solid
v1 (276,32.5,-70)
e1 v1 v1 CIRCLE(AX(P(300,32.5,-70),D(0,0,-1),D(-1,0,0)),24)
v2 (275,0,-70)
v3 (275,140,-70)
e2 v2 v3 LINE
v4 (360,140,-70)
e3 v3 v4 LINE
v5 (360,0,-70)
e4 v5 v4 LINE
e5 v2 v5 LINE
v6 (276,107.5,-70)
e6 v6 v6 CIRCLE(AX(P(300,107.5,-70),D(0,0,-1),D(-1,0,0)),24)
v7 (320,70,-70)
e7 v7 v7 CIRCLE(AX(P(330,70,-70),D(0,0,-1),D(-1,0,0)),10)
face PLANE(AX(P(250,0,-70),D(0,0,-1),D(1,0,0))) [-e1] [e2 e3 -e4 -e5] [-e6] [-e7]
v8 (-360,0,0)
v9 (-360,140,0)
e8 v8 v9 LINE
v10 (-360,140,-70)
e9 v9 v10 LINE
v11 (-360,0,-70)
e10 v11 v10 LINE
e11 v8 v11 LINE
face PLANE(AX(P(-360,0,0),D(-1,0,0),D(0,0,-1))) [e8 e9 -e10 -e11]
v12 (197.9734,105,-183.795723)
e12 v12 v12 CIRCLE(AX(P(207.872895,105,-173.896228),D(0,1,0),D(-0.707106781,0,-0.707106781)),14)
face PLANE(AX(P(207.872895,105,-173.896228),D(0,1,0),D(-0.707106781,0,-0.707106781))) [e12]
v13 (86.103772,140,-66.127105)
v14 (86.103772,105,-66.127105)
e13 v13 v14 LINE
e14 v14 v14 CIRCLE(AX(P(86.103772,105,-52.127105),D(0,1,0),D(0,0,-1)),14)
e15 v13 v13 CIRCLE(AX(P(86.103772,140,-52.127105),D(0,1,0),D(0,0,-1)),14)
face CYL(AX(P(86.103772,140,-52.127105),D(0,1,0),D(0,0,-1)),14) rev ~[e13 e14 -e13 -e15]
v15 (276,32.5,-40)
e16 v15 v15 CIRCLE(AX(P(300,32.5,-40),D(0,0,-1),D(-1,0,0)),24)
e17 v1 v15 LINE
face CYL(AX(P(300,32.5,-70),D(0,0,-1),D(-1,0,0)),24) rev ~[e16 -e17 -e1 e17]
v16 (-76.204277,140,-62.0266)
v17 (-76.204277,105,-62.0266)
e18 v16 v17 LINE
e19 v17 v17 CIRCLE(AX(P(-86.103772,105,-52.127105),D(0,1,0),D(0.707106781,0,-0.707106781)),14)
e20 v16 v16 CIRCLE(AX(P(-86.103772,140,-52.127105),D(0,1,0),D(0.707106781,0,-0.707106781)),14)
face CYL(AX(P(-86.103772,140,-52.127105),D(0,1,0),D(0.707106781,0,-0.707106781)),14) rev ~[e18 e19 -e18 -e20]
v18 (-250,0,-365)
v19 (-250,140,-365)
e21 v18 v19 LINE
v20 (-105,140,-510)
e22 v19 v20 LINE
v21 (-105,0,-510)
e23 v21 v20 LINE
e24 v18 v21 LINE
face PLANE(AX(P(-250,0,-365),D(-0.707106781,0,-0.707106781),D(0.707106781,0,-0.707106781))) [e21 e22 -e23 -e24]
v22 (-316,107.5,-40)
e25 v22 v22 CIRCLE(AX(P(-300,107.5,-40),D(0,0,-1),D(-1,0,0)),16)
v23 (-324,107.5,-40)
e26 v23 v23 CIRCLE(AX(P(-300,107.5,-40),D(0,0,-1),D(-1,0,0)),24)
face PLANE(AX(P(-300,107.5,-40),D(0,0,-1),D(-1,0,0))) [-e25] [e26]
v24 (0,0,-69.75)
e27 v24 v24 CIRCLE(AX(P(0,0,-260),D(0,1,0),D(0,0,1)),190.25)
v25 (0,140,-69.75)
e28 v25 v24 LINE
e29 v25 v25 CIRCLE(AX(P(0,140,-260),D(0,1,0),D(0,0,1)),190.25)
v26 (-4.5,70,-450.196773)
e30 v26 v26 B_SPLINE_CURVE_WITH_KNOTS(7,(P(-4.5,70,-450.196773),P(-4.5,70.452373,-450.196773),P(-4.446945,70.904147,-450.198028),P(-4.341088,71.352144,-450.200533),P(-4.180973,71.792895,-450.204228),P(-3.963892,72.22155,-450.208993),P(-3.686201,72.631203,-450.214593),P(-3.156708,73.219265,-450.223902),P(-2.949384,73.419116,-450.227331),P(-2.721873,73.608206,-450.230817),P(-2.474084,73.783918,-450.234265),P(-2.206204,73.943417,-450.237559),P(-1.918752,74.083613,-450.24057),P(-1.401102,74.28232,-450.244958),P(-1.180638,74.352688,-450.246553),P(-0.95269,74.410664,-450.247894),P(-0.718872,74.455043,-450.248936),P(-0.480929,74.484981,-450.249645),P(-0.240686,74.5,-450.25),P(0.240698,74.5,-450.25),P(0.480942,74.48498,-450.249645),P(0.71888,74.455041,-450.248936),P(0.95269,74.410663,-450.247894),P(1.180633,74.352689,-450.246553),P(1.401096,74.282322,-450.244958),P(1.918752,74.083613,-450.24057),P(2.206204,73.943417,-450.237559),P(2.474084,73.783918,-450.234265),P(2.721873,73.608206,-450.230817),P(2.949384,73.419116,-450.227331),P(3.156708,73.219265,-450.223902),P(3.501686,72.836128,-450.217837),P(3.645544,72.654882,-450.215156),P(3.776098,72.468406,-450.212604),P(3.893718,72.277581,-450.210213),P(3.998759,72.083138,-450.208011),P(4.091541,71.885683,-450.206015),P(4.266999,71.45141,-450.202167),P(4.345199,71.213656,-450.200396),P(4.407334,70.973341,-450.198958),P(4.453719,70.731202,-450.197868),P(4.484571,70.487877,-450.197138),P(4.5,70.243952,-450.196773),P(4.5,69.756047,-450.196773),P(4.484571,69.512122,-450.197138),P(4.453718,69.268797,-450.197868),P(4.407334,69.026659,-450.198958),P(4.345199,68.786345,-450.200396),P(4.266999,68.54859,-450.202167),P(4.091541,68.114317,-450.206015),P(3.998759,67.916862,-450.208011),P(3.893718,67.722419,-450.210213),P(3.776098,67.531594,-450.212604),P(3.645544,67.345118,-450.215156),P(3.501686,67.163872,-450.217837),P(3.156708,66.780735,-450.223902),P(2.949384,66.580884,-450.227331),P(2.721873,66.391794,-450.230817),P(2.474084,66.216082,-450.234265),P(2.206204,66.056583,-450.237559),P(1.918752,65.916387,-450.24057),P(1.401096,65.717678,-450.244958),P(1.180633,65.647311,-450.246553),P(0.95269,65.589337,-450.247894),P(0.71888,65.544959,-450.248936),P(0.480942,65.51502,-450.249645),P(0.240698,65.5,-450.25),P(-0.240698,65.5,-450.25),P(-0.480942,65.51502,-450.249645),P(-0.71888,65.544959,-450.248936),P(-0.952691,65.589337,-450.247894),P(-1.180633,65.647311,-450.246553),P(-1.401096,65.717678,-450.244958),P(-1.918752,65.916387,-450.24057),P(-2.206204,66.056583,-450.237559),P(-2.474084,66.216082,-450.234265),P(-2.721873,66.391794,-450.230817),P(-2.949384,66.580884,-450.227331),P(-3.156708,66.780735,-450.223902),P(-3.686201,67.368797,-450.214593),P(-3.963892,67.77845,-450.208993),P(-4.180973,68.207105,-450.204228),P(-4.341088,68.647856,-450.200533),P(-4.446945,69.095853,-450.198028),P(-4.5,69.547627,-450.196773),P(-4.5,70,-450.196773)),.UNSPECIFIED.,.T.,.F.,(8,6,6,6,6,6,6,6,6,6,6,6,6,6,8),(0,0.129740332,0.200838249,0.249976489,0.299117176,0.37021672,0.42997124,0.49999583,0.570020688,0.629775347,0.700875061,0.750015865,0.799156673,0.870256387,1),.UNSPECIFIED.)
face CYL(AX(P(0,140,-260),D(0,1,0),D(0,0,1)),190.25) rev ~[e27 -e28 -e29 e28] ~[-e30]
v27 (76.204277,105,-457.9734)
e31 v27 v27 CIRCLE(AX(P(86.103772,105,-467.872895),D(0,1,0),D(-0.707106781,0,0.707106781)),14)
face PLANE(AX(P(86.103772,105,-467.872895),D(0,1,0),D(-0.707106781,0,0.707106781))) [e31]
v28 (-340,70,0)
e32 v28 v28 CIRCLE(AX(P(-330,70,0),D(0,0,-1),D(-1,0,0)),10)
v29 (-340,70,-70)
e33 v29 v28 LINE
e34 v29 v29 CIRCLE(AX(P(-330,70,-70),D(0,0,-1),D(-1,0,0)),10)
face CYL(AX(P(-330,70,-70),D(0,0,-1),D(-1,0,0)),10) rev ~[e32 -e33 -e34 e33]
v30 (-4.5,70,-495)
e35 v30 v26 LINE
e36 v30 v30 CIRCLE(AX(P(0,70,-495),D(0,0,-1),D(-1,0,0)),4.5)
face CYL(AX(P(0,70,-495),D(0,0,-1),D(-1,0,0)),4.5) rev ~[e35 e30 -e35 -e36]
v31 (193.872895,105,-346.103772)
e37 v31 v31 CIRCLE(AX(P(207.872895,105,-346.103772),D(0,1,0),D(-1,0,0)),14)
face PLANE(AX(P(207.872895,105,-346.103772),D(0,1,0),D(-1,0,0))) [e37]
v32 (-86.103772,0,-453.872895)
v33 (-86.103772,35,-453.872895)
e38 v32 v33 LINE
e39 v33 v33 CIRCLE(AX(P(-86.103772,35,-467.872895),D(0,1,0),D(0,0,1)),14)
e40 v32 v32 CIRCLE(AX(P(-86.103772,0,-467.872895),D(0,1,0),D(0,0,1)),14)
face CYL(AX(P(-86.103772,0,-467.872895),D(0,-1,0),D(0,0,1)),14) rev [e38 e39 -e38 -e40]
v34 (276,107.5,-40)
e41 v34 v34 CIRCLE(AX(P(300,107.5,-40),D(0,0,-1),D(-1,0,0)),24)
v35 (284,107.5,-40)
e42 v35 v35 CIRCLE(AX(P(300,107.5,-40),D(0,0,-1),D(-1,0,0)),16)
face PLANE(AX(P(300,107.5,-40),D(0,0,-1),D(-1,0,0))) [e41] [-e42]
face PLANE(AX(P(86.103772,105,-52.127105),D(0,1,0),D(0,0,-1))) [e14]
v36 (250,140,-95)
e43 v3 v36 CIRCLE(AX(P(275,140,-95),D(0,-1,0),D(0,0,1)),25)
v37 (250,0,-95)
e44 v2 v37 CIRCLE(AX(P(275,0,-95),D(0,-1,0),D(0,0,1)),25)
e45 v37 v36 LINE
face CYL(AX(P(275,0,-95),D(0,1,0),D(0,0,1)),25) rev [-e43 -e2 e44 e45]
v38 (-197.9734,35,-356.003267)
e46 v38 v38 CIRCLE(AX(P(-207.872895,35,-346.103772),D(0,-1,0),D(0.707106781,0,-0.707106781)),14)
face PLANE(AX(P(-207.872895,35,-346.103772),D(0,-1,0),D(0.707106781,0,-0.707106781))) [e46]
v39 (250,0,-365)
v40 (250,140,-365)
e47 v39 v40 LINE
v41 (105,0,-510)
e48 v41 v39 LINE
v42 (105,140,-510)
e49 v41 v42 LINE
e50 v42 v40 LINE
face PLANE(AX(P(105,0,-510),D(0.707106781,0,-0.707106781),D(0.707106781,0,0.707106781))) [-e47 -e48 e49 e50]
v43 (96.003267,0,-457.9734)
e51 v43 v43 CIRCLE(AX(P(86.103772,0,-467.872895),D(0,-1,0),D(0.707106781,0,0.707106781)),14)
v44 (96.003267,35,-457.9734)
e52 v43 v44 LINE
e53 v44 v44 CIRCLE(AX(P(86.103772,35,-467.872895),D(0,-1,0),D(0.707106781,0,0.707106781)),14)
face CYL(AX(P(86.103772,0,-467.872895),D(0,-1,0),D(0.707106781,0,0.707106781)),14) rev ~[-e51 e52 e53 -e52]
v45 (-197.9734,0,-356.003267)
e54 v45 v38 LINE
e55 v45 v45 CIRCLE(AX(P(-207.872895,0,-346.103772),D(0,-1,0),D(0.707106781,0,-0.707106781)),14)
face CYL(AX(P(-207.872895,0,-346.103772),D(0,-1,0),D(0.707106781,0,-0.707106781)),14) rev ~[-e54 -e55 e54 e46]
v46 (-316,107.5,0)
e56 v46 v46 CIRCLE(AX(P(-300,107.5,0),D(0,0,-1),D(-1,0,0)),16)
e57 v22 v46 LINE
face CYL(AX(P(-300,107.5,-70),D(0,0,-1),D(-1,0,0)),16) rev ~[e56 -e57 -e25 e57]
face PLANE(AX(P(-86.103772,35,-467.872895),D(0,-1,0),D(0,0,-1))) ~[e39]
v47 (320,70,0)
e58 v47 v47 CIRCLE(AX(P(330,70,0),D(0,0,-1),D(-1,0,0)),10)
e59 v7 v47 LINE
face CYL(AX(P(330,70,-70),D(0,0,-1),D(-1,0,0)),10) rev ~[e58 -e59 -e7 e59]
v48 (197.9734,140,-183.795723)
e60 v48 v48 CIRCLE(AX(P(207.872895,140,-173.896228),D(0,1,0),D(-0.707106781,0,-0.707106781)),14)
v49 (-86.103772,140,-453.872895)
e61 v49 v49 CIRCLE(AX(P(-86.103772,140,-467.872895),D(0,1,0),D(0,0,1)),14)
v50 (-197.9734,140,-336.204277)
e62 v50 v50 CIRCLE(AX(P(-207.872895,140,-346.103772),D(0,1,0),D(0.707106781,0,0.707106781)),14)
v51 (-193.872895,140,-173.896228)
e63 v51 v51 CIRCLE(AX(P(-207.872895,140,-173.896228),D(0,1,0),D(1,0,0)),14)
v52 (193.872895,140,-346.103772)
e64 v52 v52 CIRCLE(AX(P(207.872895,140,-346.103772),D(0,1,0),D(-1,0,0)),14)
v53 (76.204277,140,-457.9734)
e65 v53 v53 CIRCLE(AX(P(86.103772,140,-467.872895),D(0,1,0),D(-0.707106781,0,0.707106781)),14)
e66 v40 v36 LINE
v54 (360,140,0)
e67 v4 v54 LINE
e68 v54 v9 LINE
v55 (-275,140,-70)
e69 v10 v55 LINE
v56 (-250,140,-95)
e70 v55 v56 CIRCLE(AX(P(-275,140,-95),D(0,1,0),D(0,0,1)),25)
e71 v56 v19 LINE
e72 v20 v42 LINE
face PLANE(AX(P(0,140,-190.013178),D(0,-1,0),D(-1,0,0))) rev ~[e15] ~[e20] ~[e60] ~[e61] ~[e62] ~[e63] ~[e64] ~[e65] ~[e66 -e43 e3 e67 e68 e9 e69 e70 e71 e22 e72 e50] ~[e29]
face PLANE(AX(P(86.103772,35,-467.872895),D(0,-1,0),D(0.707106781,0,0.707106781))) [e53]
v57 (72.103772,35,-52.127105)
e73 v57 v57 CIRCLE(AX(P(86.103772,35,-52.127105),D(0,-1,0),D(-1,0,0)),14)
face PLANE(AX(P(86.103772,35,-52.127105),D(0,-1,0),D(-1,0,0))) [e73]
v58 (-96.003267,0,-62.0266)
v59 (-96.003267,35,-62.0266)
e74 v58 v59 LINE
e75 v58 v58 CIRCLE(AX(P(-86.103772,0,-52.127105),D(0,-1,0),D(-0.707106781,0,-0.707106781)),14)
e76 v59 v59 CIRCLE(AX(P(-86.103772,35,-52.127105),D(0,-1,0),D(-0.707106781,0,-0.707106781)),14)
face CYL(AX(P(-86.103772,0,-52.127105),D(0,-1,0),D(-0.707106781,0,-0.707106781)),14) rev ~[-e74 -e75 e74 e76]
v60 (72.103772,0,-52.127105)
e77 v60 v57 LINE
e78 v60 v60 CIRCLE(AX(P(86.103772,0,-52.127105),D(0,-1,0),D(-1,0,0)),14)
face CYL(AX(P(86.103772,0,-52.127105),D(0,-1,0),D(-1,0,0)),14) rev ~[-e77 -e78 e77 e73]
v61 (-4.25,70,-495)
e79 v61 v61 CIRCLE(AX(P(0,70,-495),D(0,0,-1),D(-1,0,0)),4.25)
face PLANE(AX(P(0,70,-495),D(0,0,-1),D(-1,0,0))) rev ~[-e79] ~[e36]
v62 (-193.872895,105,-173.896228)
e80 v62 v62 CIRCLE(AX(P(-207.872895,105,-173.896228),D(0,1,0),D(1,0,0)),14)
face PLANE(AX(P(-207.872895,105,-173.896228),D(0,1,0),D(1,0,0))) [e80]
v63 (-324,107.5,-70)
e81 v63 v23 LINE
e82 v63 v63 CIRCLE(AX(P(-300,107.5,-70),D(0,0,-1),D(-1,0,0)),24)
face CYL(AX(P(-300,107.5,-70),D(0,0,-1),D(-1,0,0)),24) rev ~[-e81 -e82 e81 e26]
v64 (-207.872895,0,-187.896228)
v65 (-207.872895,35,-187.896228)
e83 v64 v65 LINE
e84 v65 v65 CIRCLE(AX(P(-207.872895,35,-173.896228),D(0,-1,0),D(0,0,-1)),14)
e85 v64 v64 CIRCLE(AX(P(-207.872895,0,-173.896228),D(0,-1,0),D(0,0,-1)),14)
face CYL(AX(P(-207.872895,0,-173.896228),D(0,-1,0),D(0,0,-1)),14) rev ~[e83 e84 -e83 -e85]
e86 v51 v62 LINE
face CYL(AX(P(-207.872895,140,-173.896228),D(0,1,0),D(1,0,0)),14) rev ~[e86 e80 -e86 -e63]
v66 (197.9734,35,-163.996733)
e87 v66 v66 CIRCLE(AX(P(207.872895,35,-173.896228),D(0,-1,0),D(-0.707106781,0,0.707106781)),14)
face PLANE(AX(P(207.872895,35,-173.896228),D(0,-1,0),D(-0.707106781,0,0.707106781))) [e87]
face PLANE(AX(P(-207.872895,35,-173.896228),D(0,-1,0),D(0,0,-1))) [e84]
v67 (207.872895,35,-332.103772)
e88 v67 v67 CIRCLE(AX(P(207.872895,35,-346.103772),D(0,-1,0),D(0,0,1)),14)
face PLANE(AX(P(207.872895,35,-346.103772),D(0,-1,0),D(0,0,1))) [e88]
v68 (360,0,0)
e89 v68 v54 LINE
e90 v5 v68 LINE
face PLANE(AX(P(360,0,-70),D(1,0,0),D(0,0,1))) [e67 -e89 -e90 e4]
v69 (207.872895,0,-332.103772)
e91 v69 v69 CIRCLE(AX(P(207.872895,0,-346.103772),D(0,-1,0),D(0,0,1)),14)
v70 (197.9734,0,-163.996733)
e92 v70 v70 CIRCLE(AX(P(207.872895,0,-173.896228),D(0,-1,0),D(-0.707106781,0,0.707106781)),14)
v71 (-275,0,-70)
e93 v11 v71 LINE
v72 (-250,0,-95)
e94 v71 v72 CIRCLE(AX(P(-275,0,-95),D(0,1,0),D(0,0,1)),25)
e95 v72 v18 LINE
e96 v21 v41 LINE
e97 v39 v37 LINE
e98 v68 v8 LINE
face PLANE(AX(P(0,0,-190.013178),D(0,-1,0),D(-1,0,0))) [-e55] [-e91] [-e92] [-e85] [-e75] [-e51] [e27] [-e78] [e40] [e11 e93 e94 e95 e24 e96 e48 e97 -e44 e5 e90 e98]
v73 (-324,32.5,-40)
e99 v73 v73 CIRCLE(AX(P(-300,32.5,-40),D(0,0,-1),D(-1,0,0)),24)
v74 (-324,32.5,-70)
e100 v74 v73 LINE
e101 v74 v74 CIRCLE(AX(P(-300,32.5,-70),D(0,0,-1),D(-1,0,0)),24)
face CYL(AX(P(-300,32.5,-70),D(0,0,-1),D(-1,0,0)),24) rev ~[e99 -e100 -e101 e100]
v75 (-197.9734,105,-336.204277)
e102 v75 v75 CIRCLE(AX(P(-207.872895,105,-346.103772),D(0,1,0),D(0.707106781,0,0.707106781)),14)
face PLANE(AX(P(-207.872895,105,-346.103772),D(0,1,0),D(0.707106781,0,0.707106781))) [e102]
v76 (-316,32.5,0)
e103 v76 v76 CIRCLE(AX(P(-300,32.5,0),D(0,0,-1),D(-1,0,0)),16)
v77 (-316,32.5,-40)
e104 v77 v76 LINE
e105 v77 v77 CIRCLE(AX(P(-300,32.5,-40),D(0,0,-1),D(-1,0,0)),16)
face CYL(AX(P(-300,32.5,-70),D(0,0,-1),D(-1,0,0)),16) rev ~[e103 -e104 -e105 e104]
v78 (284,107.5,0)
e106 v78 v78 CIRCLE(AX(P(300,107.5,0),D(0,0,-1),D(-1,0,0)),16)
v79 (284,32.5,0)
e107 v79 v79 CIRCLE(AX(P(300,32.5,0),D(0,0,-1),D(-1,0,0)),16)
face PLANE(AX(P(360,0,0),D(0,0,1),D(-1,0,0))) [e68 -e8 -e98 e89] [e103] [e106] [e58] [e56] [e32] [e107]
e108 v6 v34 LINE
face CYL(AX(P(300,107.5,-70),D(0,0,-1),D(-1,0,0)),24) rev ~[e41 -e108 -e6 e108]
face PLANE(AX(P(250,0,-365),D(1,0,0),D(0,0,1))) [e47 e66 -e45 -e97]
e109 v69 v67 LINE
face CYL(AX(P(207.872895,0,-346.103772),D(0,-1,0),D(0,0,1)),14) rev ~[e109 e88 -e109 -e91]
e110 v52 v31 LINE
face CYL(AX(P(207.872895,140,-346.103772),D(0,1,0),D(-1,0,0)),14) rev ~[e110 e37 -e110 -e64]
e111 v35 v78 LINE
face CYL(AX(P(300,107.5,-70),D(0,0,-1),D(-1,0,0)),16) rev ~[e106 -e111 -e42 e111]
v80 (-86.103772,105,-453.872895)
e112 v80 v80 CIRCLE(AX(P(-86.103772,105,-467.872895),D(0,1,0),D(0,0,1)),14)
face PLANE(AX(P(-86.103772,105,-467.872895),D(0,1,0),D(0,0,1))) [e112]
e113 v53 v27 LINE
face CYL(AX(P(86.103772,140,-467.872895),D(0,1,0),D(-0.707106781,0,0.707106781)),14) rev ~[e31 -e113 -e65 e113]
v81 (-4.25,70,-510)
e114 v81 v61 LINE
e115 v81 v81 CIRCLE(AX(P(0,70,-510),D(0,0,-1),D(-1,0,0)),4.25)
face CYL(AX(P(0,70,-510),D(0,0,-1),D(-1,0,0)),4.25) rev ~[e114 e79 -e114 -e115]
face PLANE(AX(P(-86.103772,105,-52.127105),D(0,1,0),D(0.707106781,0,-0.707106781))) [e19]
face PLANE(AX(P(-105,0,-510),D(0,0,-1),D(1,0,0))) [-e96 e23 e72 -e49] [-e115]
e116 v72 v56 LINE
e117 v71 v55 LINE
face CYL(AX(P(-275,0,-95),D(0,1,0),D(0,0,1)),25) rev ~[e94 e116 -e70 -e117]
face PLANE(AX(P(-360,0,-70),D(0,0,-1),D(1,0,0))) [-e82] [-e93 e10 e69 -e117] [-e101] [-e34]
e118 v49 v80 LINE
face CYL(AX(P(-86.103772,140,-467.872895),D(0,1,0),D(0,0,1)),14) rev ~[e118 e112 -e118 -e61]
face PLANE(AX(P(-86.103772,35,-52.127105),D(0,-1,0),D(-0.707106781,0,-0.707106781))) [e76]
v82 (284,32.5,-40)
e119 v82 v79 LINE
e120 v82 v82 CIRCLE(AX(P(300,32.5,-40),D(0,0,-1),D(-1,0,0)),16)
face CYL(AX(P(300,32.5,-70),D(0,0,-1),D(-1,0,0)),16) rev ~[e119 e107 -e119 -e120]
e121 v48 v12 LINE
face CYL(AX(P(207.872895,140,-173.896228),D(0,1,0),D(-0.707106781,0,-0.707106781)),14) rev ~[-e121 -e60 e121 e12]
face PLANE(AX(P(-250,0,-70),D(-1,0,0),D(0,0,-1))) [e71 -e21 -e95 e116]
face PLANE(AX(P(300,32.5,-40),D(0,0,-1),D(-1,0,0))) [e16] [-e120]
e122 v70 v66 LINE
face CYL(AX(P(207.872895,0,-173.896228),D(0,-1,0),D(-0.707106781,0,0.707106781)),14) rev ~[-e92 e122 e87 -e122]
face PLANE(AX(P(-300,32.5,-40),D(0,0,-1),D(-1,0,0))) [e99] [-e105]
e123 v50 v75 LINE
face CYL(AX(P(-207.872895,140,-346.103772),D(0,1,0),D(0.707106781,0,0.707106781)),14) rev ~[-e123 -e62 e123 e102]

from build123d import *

# Parameters (mm, degrees)
EXTRUDE_1_DEPTH             = 140
CUT_EXTRUDE_1_REACH         = 641.766
SKETCH_2_R                  = 190.25
SKETCH_3_R                  = 14
CUT_EXTRUDE_2_DEPTH         = 35
PATTERN_CIRCULAR_1_COUNT    = 8
MIRROR_1_COPY_1_SKETCH_R    = 14
MIRROR_1_COPY_1_DEPTH       = 35
MIRROR_1_COPY_2_SKETCH_R    = 14
MIRROR_1_COPY_2_DEPTH       = 35
MIRROR_1_COPY_3_SKETCH_R    = 14
MIRROR_1_COPY_3_DEPTH       = 35
MIRROR_1_COPY_4_SKETCH_R    = 14
MIRROR_1_COPY_4_DEPTH       = 35
MIRROR_1_COPY_5_SKETCH_R    = 14
MIRROR_1_COPY_5_DEPTH       = 35
MIRROR_1_COPY_6_SKETCH_R    = 14
MIRROR_1_COPY_6_DEPTH       = 35
MIRROR_1_COPY_7_SKETCH_R    = 14
MIRROR_1_COPY_7_DEPTH       = 35
SKETCH_4_R                  = 4.25
CUT_EXTRUDE_3_DEPTH         = 15
CUT_EXTRUDE_4_REACH         = 656.766
CUT_EXTRUDE_4_END_RADIUS    = 190.25
CUT_EXTRUDE_START           = -15
SKETCH_6_R                  = 4.5
CUT_EXTRUDE_5_REACH         = 587.491
SKETCH_7_R                  = 16
SKETCH_8_R                  = 24
CUT_EXTRUDE_6_DEPTH         = 30
PATTERN_LINEAR_1_COUNT      = 2
PATTERN_LINEAR_1_PITCH      = 600
PATTERN_LINEAR_1_COUNT_DIR2 = 2
PATTERN_LINEAR_1_PITCH_DIR2 = 75
CUT_EXTRUDE_7_REACH         = 587.491
SKETCH_7_3_R                = 10
PATTERN_LINEAR_2_COUNT      = 2
PATTERN_LINEAR_2_PITCH      = 660
FILLET_1_R                  = 25


with BuildPart() as part:
    # 草图1 → 凸台-拉伸1 (new body)
    with BuildSketch(Plane(origin=(0, 0, 0), x_dir=(1, 0, 0), z_dir=(0, 1, 0))):
        Polygon((360, 0), (-360, 0), (-360, 70), (-250, 70), (-250, 365), (-105, 510), (105, 510), (250, 365), (250, 70), (360, 70), align=None)
    extrude(amount=EXTRUDE_1_DEPTH)

    # 草图2 → 切除-拉伸1 (cut, up to next)
    with BuildSketch(Plane(origin=(0, 140, 0), x_dir=(1, 0, 0), z_dir=(0, 1, 0)), mode=Mode.PRIVATE) as cut_extrude_1_sk1:
        with Locations(Location((0, 260, 0), (0, 0, 270))):
            Circle(SKETCH_2_R)
    cut_extrude_1_tool1 = extrude(cut_extrude_1_sk1.sketch, amount=-CUT_EXTRUDE_1_REACH, mode=Mode.PRIVATE) & part.part
    add(cut_extrude_1_tool1.solids().sort_by_distance((0, 140, -260))[0], mode=Mode.SUBTRACT)

    # 草图3 → 切除-拉伸2 (cut)
    with BuildSketch(Plane(origin=(0, 140, 0), x_dir=(1, 0, 0), z_dir=(0, 1, 0))):
        with Locations(Location((-86.103772282, 467.872894815, 0), (0, 0, 270))):
            Circle(SKETCH_3_R)
    cut_extrude_2 = extrude(amount=-CUT_EXTRUDE_2_DEPTH, mode=Mode.SUBTRACT)

    # 阵列(圆周)1: 切除-拉伸2 ×8 about axis
    pattern_circular_1_axis = Axis((0, 0, -260), (0, 1, 0))
    for i in range(1, PATTERN_CIRCULAR_1_COUNT):
        add(cut_extrude_2.rotate(pattern_circular_1_axis, i * 360 / PATTERN_CIRCULAR_1_COUNT), mode=Mode.SUBTRACT)

    # 镜向1: 切除-拉伸2 across plane
    add(cut_extrude_2.mirror(Plane.ZX.offset(70)), mode=Mode.SUBTRACT)

    # 镜向1 copy 1 sketch → 镜向1 copy 1 (cut)
    with BuildSketch(Plane(origin=(183.847763109, 0, -76.152236891), x_dir=(0.7071067811865476, 0, -0.7071067811865475), z_dir=(0, -1, 0))):
        with Locations((-86.103772282, -467.872894815)):
            Circle(MIRROR_1_COPY_1_SKETCH_R)
    extrude(amount=-MIRROR_1_COPY_1_DEPTH, mode=Mode.SUBTRACT)

    # 镜向1 copy 2 sketch → 镜向1 copy 2 (cut)
    with BuildSketch(Plane(origin=(260, 0, -260), x_dir=(0, 0, -1), z_dir=(0, -1, 0))):
        with Locations((-86.103772282, -467.872894815)):
            Circle(MIRROR_1_COPY_2_SKETCH_R)
    extrude(amount=-MIRROR_1_COPY_2_DEPTH, mode=Mode.SUBTRACT)

    # 镜向1 copy 3 sketch → 镜向1 copy 3 (cut)
    with BuildSketch(Plane(origin=(183.847763109, 0, -443.847763109), x_dir=(-0.7071067811865475, 0, -0.7071067811865476), z_dir=(0, -1, 0))):
        with Locations((-86.103772282, -467.872894815)):
            Circle(MIRROR_1_COPY_3_SKETCH_R)
    extrude(amount=-MIRROR_1_COPY_3_DEPTH, mode=Mode.SUBTRACT)

    # 镜向1 copy 4 sketch → 镜向1 copy 4 (cut)
    with BuildSketch(Plane(origin=(0, 0, -520), x_dir=(-1, 0, 0), z_dir=(0, -1, 0))):
        with Locations((-86.103772282, -467.872894815)):
            Circle(MIRROR_1_COPY_4_SKETCH_R)
    extrude(amount=-MIRROR_1_COPY_4_DEPTH, mode=Mode.SUBTRACT)

    # 镜向1 copy 5 sketch → 镜向1 copy 5 (cut)
    with BuildSketch(Plane(origin=(-183.847763109, 0, -443.847763109), x_dir=(-0.7071067811865477, 0, 0.7071067811865475), z_dir=(0, -1, 0))):
        with Locations((-86.103772282, -467.872894815)):
            Circle(MIRROR_1_COPY_5_SKETCH_R)
    extrude(amount=-MIRROR_1_COPY_5_DEPTH, mode=Mode.SUBTRACT)

    # 镜向1 copy 6 sketch → 镜向1 copy 6 (cut)
    with BuildSketch(Plane(origin=(-260, 0, -260), x_dir=(0, 0, 1), z_dir=(0, -1, 0))):
        with Locations((-86.103772282, -467.872894815)):
            Circle(MIRROR_1_COPY_6_SKETCH_R)
    extrude(amount=-MIRROR_1_COPY_6_DEPTH, mode=Mode.SUBTRACT)

    # 镜向1 copy 7 sketch → 镜向1 copy 7 (cut)
    with BuildSketch(Plane(origin=(-183.847763109, 0, -76.152236891), x_dir=(0.7071067811865474, 0, 0.7071067811865477), z_dir=(0, -1, 0))):
        with Locations((-86.103772282, -467.872894815)):
            Circle(MIRROR_1_COPY_7_SKETCH_R)
    extrude(amount=-MIRROR_1_COPY_7_DEPTH, mode=Mode.SUBTRACT)

    # 草图4 → 切除-拉伸3 (cut)
    with BuildSketch(Plane(origin=(0, 0, -510), x_dir=(-1, 0, 0), z_dir=(0, 0, -1))):
        with Locations((0, 70)):
            Circle(SKETCH_4_R)
    extrude(amount=-CUT_EXTRUDE_3_DEPTH, mode=Mode.SUBTRACT)

    # 切除-拉伸4: up to this cylinder (the profile starts outside it)
    cut_extrude_4_end = Plane(origin=(0, 70, -260), z_dir=(0, 1, 0)) * Cylinder(CUT_EXTRUDE_4_END_RADIUS, 1695.032, mode=Mode.PRIVATE)
    # 草图6 → 切除-拉伸4 (cut, up to the surface)
    with BuildSketch(Plane(origin=(0, 0, -510), x_dir=(-1, 0, 0), z_dir=(0, 0, -1)).offset(CUT_EXTRUDE_START), mode=Mode.PRIVATE) as cut_extrude_4_sk1:
        with Locations((0, 70)):
            Circle(SKETCH_6_R)
    cut_extrude_4_tool1 = extrude(cut_extrude_4_sk1.sketch, amount=-CUT_EXTRUDE_4_REACH, mode=Mode.PRIVATE) - cut_extrude_4_end
    add(cut_extrude_4_tool1.solids().sort_by_distance((0, 70, -495))[0], mode=Mode.SUBTRACT)

    # 草图7 → 切除-拉伸5 (cut, up to next)
    with BuildSketch(Plane(origin=(0, 0, -70), x_dir=(-1, 0, 0), z_dir=(0, 0, -1)), mode=Mode.PRIVATE) as cut_extrude_5_sk1:
        with Locations((-300, 107.5)):
            Circle(SKETCH_7_R)
    cut_extrude_5_tool1 = extrude(cut_extrude_5_sk1.sketch, amount=-CUT_EXTRUDE_5_REACH, mode=Mode.PRIVATE) & part.part
    cut_extrude_5 = cut_extrude_5_tool1.solids().sort_by_distance((300, 107.5, -70))[0]
    add(cut_extrude_5, mode=Mode.SUBTRACT)

    # 草图8 → 切除-拉伸6 (cut)
    with BuildSketch(Plane(origin=(0, 0, -70), x_dir=(-1, 0, 0), z_dir=(0, 0, -1))):
        with Locations((-300, 107.5)):
            Circle(SKETCH_8_R)
    cut_extrude_6 = extrude(amount=-CUT_EXTRUDE_6_DEPTH, mode=Mode.SUBTRACT)

    # 阵列(线性)1: 切除-拉伸5, Cut-Extrude 6 2 × 2
    with Locations(*[(-i * PATTERN_LINEAR_1_PITCH, -j * PATTERN_LINEAR_1_PITCH_DIR2, 0) for i in range(PATTERN_LINEAR_1_COUNT) for j in range(PATTERN_LINEAR_1_COUNT_DIR2) if (i, j) != (0, 0)]):
        add(cut_extrude_5, mode=Mode.SUBTRACT)
        add(cut_extrude_6, mode=Mode.SUBTRACT)

    # 草图7<3> → 切除-拉伸7 (cut, up to next)
    with BuildSketch(Plane(origin=(0, 0, -70), x_dir=(-1, 0, 0), z_dir=(0, 0, -1)), mode=Mode.PRIVATE) as cut_extrude_7_sk1:
        with Locations((-330, 70)):
            Circle(SKETCH_7_3_R)
    cut_extrude_7_tool1 = extrude(cut_extrude_7_sk1.sketch, amount=-CUT_EXTRUDE_7_REACH, mode=Mode.PRIVATE) & part.part
    cut_extrude_7 = cut_extrude_7_tool1.solids().sort_by_distance((330, 70, -70))[0]
    add(cut_extrude_7, mode=Mode.SUBTRACT)

    # 阵列(线性)2: 切除-拉伸7 ×2
    with Locations(*[(-i * PATTERN_LINEAR_2_PITCH, 0, 0) for i in range(1, PATTERN_LINEAR_2_COUNT)]):
        add(cut_extrude_7, mode=Mode.SUBTRACT)

    # 圆角1
    fillet_1_edges = [part.edges().sort_by_distance(p)[0] for p in [
        (-250, 70, -70),
        (250, 70, -70),
    ]]
    fillet(fillet_1_edges, radius=FILLET_1_R)


solid = part.part
